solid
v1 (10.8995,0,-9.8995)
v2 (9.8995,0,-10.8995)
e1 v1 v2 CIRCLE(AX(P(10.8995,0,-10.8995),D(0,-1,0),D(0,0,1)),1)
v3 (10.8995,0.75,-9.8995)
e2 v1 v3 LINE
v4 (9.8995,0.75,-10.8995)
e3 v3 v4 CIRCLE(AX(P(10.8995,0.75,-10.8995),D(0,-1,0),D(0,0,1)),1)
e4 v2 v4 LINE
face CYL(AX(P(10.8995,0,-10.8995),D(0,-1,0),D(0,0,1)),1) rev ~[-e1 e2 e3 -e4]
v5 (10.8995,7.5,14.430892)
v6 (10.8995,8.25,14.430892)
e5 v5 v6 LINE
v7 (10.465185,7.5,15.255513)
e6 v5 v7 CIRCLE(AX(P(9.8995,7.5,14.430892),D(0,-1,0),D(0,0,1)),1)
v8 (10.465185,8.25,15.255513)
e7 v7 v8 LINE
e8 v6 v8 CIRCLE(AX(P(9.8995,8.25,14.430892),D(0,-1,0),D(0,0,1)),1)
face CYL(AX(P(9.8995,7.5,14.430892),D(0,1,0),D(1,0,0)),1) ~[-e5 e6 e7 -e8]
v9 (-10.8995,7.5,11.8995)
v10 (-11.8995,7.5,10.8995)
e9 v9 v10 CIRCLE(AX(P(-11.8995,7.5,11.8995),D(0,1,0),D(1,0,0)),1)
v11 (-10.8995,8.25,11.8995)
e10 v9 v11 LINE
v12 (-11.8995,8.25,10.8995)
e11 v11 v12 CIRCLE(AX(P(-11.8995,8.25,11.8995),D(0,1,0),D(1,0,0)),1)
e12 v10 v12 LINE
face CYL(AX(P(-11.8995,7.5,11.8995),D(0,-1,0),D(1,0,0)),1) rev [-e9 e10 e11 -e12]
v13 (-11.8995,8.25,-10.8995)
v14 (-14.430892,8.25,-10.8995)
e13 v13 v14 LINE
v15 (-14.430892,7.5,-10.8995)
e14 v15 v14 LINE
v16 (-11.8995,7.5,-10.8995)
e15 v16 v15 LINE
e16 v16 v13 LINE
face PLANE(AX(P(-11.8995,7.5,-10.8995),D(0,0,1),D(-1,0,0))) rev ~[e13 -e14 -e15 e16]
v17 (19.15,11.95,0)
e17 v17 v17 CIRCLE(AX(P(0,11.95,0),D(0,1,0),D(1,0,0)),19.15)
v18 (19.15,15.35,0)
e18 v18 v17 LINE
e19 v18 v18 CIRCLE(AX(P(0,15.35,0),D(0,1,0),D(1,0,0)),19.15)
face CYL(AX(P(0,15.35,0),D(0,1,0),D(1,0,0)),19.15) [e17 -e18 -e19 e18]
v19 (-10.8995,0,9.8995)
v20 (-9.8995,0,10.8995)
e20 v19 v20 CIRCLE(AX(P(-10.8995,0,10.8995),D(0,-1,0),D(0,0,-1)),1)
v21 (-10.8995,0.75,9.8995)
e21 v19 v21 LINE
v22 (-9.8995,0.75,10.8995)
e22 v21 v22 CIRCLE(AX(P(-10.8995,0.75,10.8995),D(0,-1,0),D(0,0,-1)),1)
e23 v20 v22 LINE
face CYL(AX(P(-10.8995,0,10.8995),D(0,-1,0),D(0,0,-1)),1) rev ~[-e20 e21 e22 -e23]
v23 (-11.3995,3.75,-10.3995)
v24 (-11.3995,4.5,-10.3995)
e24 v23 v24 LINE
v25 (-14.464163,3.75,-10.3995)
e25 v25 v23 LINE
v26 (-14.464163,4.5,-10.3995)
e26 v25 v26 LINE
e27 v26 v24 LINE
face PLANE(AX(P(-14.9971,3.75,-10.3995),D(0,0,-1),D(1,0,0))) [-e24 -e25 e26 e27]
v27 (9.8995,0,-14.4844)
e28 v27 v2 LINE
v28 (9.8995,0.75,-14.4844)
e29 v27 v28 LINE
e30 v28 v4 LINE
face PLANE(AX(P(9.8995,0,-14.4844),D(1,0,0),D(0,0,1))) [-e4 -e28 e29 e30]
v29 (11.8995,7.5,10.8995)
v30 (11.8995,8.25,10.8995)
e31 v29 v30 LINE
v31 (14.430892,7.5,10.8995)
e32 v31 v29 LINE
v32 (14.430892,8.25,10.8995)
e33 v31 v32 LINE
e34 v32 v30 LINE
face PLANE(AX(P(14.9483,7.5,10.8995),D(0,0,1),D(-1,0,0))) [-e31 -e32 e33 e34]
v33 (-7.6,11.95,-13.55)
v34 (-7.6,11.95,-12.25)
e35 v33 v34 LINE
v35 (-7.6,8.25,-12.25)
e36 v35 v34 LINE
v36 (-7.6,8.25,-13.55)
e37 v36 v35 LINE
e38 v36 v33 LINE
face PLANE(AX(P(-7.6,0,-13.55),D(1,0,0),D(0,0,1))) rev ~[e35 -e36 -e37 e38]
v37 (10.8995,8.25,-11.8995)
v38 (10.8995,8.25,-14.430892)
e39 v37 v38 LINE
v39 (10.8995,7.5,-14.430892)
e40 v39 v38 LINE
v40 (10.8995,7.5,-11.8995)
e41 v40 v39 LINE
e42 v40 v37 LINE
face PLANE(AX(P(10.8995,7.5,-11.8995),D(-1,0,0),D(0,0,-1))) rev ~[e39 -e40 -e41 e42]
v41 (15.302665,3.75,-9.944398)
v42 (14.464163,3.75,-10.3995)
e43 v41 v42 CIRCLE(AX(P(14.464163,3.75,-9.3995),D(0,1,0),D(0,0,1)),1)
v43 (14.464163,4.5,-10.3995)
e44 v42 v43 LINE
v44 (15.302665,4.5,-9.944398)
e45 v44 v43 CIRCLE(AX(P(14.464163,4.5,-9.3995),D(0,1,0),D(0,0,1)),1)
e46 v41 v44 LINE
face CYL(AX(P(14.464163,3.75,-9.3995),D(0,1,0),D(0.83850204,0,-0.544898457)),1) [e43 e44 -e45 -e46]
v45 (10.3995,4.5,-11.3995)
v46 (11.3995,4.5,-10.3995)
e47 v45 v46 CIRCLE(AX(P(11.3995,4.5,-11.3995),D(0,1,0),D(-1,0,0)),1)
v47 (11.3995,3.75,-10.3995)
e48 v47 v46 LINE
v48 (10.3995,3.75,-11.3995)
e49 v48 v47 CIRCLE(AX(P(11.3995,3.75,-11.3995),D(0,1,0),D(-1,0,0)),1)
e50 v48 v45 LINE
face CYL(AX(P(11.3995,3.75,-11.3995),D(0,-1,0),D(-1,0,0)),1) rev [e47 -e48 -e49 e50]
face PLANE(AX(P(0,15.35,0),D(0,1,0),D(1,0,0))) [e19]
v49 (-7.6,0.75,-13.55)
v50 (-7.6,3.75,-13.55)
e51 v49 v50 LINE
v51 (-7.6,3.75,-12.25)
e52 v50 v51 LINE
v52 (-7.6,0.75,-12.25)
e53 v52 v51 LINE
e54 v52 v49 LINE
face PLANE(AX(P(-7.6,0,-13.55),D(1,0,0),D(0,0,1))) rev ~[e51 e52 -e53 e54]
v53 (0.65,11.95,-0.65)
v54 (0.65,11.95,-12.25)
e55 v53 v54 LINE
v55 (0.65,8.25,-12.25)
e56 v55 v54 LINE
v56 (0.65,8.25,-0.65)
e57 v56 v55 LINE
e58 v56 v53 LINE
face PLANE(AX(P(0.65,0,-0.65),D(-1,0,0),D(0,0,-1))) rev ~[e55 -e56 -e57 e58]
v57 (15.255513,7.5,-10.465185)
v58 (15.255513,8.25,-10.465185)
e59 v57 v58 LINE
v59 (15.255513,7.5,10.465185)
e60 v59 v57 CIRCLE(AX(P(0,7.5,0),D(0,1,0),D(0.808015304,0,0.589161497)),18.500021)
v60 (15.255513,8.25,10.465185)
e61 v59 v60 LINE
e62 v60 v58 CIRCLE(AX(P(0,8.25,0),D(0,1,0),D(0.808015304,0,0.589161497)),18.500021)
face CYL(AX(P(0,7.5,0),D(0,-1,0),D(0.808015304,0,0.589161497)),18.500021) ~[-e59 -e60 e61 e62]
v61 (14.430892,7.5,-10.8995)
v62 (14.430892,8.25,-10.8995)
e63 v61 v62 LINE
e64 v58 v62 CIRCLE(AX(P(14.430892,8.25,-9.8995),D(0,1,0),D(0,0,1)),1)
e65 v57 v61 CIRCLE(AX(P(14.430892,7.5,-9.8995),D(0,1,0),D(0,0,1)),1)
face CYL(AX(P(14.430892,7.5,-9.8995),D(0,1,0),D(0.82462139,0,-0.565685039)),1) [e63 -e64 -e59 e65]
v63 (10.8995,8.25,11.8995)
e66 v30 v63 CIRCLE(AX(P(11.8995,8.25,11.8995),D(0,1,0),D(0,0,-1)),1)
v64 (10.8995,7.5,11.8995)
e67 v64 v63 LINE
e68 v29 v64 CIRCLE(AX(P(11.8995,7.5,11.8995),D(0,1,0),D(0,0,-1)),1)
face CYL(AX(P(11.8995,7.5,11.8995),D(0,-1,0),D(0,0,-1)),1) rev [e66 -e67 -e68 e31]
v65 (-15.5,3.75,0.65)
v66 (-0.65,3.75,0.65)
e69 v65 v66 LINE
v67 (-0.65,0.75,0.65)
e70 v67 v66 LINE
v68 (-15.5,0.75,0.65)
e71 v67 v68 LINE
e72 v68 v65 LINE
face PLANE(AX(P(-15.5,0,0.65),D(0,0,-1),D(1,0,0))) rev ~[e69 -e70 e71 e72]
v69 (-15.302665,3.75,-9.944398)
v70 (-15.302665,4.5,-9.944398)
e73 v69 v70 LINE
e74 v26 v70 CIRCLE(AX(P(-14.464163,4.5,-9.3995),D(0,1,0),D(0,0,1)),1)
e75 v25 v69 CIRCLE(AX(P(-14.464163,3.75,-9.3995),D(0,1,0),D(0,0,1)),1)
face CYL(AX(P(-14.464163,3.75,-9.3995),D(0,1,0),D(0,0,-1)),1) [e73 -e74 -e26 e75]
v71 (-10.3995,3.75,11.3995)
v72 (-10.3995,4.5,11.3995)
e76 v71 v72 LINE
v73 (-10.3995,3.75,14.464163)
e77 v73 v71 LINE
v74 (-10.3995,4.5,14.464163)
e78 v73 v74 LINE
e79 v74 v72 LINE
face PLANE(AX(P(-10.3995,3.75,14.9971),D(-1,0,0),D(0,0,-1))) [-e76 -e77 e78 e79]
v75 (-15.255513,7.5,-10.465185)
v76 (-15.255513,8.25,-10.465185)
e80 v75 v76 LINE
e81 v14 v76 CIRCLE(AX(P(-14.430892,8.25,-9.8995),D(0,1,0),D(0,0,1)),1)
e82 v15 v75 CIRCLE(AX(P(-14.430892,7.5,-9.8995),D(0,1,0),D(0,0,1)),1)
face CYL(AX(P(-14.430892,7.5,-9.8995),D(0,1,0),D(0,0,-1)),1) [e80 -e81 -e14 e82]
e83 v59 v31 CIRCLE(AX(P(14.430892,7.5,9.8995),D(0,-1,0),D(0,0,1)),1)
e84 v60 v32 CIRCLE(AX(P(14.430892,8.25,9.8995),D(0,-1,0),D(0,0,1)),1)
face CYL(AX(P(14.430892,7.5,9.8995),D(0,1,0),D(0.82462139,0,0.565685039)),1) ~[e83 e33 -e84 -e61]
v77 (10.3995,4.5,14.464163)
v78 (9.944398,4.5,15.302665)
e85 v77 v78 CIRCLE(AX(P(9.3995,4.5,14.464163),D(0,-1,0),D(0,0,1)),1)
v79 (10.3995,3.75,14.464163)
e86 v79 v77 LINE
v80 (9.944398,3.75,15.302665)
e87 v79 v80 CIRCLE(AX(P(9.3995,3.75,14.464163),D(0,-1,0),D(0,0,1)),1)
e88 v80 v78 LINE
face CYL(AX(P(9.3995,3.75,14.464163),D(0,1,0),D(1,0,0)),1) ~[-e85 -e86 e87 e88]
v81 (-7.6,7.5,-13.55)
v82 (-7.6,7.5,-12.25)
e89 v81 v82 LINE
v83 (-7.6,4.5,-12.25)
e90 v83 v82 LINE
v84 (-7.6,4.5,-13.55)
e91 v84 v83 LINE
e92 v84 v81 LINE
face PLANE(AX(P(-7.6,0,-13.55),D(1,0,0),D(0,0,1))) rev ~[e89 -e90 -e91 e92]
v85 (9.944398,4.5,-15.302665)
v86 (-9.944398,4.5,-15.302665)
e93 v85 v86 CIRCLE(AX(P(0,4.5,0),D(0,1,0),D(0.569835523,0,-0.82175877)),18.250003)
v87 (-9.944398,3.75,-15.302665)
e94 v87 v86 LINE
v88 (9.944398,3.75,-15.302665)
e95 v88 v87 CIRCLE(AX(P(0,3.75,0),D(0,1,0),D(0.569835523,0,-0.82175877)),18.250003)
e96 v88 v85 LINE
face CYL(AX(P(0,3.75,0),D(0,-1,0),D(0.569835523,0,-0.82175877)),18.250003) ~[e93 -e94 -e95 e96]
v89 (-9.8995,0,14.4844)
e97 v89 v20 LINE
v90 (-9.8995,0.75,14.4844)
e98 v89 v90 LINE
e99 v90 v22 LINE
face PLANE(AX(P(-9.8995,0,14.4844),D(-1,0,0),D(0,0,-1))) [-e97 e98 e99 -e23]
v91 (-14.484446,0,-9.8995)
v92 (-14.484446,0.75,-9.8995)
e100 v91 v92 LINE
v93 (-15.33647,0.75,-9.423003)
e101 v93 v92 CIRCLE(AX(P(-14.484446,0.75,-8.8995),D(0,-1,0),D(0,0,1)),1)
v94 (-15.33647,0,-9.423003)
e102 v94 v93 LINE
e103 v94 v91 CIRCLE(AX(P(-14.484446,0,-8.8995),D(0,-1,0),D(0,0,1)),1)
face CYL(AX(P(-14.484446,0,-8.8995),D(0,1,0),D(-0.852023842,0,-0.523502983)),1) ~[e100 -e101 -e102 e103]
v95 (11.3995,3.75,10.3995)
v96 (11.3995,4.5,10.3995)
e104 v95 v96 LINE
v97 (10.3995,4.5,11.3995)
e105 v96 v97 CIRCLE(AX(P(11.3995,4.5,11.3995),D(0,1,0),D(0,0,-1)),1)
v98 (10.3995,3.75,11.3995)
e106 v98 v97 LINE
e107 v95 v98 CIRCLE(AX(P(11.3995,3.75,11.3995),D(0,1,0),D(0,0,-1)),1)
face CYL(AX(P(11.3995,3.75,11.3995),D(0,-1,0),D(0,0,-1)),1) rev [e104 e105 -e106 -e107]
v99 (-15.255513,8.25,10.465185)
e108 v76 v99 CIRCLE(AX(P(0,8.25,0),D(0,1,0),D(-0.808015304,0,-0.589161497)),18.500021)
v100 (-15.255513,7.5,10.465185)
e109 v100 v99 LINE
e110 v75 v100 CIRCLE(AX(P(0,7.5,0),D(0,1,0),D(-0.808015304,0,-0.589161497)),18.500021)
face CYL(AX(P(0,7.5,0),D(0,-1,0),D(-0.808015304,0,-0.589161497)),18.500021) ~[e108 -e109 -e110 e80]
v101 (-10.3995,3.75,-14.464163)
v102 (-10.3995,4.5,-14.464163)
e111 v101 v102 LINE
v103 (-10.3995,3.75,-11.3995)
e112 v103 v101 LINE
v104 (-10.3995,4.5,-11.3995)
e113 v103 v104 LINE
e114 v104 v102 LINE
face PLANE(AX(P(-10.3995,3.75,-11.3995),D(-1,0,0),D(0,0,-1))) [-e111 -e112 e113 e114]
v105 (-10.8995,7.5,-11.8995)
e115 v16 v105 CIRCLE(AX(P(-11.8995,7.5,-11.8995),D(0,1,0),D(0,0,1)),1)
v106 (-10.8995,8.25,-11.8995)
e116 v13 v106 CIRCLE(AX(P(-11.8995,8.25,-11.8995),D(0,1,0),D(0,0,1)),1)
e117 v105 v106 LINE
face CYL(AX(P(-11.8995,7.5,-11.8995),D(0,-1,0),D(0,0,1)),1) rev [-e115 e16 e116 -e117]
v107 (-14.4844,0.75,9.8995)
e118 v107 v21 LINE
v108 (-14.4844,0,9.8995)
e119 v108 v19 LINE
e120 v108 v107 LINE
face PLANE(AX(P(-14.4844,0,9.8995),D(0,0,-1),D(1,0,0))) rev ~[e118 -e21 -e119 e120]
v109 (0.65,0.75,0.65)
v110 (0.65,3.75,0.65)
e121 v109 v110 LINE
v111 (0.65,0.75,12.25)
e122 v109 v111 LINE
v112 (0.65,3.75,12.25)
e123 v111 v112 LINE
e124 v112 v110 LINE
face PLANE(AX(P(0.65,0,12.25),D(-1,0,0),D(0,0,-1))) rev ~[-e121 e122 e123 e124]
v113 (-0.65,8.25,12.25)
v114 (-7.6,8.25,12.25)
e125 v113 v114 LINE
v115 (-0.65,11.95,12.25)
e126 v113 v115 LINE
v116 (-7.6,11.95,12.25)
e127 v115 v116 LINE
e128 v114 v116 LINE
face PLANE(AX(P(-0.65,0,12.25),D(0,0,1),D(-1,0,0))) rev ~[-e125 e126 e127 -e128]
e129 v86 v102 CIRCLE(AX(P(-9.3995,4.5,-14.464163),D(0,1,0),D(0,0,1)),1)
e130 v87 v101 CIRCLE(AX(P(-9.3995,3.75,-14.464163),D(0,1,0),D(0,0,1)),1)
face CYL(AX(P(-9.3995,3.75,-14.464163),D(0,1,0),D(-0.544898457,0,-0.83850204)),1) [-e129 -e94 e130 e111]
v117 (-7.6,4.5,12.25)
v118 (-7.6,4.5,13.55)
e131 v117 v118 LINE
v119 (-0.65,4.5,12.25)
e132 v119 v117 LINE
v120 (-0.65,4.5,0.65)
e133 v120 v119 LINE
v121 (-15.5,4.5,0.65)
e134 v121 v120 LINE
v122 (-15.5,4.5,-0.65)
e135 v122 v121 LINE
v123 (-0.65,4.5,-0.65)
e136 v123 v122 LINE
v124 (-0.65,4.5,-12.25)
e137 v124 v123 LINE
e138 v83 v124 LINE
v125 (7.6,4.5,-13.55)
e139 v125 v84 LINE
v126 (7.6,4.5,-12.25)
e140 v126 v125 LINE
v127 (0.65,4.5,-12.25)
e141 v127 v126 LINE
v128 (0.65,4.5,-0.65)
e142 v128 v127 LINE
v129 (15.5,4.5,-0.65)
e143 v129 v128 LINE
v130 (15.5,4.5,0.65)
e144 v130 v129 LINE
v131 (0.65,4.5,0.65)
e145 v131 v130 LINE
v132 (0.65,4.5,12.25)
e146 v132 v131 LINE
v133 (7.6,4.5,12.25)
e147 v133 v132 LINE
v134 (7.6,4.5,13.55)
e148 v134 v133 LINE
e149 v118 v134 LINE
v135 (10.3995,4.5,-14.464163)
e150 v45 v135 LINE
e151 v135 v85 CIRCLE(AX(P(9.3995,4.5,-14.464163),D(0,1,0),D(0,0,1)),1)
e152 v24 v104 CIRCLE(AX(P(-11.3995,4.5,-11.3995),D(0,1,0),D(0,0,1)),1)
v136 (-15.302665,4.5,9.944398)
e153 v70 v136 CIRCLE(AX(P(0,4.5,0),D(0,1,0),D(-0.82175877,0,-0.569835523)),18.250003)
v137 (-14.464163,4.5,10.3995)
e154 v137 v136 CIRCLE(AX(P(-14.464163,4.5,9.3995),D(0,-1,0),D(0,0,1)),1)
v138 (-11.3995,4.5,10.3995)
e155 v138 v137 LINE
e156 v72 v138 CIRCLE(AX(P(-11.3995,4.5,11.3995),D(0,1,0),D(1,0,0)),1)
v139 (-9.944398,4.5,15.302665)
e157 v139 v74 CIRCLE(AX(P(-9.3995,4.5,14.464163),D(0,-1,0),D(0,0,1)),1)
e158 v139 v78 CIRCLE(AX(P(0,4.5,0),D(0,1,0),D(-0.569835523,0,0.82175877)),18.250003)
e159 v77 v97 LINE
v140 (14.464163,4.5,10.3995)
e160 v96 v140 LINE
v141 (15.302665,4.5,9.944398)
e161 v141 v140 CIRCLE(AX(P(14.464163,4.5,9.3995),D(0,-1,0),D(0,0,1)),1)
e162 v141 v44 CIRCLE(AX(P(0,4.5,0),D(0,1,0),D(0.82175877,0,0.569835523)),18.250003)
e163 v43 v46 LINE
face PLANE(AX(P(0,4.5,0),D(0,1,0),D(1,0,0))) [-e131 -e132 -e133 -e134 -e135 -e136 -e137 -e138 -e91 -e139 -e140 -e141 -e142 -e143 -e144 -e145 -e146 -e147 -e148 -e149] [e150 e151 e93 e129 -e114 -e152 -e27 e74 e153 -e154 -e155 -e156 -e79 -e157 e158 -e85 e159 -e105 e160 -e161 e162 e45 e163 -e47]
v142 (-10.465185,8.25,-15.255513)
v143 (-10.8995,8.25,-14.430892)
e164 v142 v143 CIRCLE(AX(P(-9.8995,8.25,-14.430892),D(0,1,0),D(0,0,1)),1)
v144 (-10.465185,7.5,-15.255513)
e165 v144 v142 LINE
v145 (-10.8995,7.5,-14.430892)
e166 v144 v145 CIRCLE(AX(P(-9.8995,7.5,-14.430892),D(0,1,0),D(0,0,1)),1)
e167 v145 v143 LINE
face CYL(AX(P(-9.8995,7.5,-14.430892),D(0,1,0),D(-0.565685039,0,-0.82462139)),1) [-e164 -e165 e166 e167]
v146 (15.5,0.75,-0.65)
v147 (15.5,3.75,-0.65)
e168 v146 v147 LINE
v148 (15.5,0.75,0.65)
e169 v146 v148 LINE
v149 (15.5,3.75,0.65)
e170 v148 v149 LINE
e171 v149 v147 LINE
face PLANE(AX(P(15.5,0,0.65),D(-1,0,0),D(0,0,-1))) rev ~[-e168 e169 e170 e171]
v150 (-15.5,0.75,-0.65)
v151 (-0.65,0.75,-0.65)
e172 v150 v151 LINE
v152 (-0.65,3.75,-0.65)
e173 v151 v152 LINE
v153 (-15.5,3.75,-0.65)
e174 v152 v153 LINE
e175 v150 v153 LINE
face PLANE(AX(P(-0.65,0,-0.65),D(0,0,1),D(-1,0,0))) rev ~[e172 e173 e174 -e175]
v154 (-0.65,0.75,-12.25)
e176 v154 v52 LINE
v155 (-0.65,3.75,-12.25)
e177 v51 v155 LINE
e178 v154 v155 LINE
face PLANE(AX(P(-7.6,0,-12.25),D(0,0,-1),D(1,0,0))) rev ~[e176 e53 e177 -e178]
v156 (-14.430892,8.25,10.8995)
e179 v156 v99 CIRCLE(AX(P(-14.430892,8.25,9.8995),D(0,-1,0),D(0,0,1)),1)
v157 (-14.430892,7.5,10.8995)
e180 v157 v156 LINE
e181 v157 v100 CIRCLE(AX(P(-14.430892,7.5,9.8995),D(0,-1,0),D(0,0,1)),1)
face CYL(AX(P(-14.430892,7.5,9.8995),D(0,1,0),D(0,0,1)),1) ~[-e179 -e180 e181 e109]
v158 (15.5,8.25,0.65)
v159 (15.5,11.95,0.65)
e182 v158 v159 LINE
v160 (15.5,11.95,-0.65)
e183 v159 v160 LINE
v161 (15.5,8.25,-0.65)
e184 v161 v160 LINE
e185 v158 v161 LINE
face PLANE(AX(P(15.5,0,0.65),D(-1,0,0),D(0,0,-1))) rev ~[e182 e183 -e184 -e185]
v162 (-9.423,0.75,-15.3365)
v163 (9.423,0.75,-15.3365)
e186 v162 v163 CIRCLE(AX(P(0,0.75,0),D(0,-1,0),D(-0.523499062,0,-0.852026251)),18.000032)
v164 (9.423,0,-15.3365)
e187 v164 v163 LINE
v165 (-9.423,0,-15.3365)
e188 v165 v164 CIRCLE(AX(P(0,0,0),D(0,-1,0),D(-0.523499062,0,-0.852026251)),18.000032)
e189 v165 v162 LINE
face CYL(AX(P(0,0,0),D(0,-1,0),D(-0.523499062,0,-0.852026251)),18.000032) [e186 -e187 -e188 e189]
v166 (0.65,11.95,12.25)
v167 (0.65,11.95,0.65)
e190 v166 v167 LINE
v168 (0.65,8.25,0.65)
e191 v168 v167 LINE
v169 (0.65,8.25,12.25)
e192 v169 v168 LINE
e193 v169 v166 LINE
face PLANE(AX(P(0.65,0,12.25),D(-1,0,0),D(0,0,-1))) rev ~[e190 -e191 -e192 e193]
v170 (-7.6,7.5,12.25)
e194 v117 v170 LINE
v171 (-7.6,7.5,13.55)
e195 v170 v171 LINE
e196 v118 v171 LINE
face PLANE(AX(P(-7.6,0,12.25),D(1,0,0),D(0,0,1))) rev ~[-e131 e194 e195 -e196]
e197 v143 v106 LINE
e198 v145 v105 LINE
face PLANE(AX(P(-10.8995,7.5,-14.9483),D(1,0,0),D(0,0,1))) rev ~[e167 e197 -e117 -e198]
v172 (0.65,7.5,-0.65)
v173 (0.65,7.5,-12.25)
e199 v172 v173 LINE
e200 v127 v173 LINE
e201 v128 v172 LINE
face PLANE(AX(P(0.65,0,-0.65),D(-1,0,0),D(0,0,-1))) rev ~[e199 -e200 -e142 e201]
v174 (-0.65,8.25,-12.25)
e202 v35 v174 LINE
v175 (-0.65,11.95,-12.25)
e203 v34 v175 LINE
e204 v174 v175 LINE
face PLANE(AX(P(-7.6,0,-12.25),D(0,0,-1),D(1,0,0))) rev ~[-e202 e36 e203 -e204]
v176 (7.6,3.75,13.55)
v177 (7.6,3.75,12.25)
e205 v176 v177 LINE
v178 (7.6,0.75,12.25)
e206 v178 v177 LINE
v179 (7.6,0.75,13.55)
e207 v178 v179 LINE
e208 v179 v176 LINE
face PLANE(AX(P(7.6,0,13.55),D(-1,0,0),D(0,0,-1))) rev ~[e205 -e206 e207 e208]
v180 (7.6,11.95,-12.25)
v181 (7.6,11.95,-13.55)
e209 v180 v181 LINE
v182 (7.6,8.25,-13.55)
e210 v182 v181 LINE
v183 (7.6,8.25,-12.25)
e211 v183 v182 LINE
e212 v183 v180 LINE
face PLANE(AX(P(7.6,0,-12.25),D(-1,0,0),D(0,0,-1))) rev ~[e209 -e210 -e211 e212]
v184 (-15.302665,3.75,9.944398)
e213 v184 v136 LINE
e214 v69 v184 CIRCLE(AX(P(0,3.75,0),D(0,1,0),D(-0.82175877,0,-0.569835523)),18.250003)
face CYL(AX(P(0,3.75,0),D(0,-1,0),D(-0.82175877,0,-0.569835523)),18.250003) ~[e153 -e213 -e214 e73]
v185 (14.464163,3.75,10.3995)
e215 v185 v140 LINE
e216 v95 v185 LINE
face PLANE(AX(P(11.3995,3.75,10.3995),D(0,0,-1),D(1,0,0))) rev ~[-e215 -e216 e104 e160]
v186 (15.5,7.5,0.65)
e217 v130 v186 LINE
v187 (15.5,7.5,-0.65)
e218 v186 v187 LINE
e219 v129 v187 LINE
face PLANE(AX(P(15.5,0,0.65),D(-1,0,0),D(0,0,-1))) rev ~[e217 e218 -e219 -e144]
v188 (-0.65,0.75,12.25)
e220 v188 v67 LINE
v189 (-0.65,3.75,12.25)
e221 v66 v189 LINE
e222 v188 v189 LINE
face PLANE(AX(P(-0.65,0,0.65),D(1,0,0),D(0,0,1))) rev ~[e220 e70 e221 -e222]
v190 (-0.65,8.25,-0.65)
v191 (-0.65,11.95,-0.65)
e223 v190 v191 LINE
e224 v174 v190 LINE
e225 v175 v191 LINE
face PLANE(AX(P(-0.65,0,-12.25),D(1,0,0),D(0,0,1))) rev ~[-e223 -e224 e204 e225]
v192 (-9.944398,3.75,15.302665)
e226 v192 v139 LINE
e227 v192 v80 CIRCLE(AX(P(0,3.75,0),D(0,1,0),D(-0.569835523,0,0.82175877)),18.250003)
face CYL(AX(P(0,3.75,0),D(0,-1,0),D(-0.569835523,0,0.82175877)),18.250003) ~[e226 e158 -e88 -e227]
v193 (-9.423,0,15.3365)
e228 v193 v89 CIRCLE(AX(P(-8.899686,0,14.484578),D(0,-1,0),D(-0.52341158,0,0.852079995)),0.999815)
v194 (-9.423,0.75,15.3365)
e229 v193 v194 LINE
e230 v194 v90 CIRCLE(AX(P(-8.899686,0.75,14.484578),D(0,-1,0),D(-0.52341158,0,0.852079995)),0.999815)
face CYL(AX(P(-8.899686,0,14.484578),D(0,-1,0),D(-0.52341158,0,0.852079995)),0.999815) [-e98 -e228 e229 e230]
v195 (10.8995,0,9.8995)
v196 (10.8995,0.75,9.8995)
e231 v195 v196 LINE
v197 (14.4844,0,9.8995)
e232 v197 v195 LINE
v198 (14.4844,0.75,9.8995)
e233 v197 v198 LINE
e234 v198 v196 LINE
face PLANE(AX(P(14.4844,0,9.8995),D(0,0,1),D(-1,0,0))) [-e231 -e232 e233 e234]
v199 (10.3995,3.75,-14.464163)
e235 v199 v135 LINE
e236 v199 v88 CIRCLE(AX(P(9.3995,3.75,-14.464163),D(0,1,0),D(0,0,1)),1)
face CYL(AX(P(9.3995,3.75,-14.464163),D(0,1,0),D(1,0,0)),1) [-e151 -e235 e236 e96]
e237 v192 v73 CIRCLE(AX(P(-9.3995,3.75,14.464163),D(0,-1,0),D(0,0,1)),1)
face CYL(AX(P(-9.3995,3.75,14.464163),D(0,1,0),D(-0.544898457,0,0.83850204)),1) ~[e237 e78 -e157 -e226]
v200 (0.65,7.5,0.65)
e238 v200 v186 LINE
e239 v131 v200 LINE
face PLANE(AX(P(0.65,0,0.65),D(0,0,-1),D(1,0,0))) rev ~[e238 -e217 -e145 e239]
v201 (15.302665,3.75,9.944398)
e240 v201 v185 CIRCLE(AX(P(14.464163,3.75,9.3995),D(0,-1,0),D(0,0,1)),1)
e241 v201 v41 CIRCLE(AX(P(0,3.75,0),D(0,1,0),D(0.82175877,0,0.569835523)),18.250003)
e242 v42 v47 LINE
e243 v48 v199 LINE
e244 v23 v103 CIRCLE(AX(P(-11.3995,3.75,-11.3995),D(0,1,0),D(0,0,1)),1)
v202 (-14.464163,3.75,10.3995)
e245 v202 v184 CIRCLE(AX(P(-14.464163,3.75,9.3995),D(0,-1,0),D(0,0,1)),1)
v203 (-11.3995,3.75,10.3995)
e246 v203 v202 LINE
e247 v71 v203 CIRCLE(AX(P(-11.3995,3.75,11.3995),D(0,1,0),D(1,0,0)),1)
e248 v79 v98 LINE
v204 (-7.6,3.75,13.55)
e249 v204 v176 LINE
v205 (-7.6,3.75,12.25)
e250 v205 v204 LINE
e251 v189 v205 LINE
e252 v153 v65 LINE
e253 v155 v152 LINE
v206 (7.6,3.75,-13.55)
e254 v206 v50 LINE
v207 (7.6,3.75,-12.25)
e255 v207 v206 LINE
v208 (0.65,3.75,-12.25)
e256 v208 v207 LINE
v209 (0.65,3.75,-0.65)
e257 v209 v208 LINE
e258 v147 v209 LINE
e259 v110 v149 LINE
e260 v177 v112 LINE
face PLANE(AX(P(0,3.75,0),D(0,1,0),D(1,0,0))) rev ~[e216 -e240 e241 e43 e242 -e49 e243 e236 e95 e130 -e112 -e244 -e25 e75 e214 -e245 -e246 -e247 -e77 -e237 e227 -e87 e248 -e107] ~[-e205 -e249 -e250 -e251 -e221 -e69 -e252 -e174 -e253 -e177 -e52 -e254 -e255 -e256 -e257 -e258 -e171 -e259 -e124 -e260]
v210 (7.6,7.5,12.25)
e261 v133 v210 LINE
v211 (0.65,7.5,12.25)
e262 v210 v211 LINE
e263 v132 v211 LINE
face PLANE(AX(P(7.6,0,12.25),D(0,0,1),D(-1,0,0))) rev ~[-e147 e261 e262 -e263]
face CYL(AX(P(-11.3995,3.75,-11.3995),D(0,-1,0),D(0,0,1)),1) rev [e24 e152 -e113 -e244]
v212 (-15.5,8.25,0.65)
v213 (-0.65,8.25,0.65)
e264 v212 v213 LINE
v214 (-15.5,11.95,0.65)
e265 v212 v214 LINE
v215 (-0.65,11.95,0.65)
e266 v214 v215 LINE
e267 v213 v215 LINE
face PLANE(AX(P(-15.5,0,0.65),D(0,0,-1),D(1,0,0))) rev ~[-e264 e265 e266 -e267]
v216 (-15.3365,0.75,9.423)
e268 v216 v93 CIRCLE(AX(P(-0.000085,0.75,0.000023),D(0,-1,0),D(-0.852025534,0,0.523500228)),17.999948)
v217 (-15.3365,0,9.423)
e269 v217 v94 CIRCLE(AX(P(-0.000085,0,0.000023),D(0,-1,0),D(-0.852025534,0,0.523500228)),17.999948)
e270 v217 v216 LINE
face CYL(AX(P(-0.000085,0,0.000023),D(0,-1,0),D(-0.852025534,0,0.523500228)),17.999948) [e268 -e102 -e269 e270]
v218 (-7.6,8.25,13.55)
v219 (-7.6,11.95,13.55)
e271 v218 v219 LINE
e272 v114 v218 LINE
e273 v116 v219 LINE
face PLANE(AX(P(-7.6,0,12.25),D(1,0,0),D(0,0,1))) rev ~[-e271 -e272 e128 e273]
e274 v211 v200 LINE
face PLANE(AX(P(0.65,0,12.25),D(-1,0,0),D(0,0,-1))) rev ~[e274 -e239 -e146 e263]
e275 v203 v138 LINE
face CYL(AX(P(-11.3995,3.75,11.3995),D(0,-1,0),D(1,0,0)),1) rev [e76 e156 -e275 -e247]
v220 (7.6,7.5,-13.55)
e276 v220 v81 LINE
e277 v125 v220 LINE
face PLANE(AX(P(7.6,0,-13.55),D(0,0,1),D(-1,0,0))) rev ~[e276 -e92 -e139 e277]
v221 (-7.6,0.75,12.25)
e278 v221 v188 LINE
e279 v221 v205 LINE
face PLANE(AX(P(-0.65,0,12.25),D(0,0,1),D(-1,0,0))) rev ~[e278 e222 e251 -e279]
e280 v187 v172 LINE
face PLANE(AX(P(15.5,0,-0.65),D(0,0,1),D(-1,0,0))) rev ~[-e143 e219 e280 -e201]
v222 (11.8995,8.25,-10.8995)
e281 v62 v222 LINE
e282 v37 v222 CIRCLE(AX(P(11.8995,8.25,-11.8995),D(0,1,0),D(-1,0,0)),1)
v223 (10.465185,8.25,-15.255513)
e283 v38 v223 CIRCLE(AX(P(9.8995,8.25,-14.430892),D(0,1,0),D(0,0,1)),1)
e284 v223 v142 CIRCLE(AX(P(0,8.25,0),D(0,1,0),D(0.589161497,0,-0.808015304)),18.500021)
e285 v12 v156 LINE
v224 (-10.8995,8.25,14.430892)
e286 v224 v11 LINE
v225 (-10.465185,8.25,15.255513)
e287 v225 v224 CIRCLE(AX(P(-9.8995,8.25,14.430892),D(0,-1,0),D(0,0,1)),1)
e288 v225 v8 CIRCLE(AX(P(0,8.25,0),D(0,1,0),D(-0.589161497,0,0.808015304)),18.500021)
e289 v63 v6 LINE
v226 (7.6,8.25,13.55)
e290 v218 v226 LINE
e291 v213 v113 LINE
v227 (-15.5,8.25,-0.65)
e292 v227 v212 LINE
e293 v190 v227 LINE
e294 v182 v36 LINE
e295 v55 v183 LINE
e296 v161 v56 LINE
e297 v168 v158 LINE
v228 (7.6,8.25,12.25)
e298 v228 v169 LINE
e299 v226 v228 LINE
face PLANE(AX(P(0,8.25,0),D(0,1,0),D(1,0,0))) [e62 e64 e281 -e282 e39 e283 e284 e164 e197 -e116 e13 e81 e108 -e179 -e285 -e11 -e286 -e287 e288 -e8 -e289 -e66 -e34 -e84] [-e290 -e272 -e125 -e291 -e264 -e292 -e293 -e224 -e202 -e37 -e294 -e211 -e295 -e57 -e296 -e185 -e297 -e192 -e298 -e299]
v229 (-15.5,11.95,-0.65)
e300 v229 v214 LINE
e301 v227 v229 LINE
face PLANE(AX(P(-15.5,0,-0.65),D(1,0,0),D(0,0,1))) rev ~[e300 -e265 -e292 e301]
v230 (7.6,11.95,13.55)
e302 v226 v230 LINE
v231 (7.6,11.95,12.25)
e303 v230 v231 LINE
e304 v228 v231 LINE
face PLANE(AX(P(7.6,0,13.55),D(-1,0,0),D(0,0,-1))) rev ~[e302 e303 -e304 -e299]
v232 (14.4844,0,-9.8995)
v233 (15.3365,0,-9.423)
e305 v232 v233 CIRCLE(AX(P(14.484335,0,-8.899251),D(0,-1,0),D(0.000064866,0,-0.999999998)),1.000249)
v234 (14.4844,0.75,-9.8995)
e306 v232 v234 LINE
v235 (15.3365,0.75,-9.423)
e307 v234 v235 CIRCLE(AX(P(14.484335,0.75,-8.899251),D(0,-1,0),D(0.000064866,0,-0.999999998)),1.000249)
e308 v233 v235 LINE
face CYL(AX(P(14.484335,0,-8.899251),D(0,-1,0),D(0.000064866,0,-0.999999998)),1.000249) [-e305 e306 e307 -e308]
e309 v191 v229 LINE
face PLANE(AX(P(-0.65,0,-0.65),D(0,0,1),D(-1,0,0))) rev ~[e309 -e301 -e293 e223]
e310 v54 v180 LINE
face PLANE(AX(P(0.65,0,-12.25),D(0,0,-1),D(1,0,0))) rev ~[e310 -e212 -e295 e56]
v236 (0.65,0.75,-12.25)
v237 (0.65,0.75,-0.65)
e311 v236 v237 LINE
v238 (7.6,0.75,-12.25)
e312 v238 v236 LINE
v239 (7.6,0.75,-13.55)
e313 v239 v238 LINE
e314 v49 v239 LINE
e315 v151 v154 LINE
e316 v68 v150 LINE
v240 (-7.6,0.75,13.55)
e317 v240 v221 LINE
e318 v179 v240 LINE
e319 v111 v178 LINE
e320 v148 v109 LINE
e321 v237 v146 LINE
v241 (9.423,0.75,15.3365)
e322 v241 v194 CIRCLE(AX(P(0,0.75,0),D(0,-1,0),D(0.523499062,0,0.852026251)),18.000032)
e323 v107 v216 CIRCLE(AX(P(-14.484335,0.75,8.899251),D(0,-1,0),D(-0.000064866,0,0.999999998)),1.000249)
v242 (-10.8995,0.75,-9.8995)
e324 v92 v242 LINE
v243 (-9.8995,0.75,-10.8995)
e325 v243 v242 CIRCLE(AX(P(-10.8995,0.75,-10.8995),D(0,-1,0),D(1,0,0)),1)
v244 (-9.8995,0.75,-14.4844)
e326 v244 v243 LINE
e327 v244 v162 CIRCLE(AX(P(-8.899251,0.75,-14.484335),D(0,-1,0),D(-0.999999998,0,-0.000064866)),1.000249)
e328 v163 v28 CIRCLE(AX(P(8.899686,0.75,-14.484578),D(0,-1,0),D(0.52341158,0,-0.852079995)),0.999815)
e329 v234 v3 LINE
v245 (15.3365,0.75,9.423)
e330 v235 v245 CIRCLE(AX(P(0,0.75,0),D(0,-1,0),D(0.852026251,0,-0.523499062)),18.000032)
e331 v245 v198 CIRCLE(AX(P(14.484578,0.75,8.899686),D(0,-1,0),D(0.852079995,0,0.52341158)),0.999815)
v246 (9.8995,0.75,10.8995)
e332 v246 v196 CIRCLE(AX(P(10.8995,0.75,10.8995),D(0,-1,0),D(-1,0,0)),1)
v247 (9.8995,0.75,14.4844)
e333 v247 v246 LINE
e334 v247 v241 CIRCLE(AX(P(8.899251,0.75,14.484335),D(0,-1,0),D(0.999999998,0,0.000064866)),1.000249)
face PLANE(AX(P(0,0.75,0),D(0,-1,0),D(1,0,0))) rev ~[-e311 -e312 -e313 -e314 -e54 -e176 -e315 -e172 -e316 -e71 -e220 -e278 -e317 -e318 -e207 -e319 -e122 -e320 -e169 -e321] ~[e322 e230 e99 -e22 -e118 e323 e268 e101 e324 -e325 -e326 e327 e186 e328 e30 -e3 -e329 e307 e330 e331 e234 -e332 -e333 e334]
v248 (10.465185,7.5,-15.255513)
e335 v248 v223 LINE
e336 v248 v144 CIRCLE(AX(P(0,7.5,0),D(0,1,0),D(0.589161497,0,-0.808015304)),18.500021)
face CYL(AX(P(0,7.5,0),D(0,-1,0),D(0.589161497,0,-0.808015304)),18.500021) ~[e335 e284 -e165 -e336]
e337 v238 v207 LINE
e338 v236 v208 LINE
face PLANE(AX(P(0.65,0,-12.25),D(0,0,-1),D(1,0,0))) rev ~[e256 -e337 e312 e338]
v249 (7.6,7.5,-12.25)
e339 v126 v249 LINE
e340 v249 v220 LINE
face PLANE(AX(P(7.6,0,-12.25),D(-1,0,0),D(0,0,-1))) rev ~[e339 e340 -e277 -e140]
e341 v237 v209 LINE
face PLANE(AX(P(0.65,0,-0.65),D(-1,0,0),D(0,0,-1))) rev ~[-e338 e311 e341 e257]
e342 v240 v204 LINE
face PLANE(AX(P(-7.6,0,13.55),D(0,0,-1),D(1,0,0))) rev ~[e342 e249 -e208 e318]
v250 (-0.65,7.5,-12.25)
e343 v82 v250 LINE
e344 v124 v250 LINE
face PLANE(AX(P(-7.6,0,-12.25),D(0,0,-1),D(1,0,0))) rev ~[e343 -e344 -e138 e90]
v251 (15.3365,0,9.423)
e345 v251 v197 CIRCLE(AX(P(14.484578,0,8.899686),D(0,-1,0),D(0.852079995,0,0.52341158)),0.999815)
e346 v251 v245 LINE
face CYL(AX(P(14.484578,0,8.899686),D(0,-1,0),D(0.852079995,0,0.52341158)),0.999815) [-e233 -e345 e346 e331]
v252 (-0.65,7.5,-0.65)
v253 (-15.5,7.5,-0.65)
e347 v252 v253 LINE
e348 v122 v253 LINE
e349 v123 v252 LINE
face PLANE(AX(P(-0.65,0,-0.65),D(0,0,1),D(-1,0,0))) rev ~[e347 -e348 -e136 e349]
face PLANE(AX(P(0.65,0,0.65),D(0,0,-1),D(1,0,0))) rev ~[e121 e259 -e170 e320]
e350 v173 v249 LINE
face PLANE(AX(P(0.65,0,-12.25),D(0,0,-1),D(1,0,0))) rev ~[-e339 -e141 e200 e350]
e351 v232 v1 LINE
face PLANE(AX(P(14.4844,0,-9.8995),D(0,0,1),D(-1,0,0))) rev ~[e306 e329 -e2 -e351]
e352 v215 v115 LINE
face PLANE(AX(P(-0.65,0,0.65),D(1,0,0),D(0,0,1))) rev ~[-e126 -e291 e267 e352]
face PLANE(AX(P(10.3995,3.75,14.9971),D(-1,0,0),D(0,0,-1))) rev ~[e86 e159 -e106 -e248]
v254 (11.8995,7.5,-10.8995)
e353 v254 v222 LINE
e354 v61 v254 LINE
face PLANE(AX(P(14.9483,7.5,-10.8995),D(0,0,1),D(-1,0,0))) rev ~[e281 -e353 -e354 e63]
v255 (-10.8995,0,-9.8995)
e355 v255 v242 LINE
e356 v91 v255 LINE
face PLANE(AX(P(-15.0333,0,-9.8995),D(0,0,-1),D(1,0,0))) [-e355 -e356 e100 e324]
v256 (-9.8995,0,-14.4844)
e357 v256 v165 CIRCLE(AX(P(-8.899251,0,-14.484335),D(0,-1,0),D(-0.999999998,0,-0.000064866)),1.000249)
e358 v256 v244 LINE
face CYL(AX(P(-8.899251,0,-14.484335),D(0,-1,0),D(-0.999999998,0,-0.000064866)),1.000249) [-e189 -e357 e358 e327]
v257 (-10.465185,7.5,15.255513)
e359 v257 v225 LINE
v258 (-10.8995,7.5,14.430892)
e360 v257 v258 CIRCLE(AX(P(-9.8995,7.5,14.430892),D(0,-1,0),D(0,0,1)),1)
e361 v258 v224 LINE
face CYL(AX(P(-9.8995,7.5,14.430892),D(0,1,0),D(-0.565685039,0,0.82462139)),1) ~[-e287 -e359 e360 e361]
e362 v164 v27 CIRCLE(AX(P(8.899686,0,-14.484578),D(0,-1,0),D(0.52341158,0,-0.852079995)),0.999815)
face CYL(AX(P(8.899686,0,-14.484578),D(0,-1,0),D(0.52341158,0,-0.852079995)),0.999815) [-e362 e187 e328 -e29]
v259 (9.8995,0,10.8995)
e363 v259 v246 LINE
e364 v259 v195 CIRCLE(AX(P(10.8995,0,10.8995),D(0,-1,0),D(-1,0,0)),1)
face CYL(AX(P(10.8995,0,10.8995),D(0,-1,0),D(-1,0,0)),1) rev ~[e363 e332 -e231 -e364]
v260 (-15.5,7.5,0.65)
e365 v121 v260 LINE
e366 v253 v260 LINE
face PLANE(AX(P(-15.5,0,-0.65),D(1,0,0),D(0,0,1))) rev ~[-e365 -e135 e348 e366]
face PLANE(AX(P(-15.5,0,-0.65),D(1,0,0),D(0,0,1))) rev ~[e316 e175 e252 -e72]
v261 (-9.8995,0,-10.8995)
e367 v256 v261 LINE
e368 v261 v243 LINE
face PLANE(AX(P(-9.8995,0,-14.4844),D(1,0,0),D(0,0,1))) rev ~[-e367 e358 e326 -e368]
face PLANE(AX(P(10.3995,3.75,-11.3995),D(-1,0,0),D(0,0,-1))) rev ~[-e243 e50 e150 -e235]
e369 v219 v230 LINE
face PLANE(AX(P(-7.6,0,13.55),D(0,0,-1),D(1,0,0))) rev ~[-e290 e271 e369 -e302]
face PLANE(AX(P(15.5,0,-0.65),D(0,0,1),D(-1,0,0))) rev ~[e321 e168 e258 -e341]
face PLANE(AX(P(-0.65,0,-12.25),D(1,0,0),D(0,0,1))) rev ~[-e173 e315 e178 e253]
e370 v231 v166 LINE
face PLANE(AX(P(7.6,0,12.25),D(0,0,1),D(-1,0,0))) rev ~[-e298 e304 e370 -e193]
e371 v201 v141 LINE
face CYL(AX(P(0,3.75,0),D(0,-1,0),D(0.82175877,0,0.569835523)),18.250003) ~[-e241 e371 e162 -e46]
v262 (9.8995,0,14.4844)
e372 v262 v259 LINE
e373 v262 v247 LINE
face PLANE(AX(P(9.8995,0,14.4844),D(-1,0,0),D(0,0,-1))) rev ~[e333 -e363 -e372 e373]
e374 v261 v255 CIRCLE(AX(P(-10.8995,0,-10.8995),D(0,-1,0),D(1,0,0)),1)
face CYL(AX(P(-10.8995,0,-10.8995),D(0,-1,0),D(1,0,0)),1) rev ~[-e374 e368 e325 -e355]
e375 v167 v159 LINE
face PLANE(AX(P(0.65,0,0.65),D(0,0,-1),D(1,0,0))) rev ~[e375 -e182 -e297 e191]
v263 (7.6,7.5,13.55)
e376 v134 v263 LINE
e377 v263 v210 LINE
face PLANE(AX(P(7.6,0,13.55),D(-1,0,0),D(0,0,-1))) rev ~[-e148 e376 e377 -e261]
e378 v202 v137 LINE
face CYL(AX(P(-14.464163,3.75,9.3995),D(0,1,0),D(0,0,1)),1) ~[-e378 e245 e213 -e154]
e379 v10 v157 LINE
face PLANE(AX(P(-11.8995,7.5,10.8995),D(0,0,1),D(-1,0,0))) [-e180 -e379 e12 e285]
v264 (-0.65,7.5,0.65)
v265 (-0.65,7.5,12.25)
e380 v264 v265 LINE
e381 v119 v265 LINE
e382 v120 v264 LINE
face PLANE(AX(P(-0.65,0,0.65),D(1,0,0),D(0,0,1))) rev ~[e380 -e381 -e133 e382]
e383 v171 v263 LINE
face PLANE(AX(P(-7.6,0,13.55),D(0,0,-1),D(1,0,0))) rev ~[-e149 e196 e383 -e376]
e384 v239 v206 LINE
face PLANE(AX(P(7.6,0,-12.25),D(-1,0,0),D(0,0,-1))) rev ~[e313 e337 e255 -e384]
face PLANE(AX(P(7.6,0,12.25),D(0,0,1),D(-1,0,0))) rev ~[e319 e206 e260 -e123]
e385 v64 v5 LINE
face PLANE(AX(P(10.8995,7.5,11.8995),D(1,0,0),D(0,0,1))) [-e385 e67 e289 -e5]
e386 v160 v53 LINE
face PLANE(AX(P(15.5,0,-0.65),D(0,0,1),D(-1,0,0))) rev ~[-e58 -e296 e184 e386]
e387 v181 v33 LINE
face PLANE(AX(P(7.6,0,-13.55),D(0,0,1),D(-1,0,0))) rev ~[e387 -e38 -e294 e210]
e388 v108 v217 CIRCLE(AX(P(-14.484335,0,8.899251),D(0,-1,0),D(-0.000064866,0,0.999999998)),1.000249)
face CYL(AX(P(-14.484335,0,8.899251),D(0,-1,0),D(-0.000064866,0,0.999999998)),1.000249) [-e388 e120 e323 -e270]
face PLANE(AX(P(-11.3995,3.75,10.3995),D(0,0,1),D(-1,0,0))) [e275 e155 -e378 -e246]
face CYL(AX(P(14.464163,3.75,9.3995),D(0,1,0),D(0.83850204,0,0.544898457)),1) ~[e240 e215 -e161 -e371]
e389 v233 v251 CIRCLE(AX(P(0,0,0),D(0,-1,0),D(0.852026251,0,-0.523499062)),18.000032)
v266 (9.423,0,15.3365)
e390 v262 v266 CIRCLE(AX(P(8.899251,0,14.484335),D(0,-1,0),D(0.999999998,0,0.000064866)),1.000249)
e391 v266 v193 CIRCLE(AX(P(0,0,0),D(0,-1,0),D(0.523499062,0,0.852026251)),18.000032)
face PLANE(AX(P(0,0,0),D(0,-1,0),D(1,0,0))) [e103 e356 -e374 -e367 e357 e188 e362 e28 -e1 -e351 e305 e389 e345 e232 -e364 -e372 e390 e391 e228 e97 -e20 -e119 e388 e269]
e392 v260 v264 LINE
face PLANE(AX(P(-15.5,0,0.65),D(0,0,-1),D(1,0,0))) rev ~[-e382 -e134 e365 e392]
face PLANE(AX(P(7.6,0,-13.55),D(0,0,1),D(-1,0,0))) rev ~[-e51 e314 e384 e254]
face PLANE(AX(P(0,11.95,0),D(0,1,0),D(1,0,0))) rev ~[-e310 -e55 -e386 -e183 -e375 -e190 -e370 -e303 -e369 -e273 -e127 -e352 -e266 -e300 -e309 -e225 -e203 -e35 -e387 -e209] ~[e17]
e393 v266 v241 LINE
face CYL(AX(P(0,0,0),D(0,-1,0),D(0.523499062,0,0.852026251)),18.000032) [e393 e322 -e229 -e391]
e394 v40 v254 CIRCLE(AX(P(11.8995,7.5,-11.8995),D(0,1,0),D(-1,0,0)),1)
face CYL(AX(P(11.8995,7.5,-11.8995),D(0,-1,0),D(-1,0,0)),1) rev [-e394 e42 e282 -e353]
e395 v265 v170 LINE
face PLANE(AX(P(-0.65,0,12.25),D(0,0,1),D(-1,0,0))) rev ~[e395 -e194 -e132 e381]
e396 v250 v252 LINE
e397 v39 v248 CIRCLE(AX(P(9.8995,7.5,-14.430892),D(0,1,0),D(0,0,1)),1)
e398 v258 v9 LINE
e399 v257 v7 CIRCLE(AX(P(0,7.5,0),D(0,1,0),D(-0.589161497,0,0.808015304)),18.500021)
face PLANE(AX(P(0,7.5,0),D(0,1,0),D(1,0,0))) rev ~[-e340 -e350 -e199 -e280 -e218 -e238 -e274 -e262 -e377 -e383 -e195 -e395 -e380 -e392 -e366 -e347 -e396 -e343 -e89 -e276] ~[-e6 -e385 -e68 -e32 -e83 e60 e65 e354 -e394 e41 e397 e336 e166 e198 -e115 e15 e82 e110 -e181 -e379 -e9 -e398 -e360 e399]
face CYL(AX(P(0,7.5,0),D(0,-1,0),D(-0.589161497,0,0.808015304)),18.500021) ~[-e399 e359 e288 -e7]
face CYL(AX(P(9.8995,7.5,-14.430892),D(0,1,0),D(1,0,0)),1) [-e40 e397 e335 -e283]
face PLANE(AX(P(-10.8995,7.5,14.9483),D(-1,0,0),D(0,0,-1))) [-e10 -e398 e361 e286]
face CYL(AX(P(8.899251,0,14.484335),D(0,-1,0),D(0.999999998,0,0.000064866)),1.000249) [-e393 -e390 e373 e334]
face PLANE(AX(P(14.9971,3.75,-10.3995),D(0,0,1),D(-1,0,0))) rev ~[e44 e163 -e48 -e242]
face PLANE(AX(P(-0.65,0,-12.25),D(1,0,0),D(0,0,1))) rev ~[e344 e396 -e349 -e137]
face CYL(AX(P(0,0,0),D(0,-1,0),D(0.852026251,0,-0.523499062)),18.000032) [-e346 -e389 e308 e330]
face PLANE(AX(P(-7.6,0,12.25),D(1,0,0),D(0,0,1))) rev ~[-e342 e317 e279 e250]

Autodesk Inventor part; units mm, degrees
ref_plane "YZ Plane" through (0, 0, 0) normal (1, 0, 0) x (0, 1, 0)
ref_plane "XZ Plane" through (0, 0, 0) normal (0, 1, 0) x (-1, 0, 0)
ref_plane "XY Plane" through (0, 0, 0) normal (0, 0, 1) x (1, 0, 0)
sketch "Esquisse1" plane through (0, 0, 0) normal (0, 1, 0) x (-1, 0, 0)
  line L0 (7.6, 13.55) -> (-7.6, 13.55)
  line L1 (-7.6, 13.55) -> (-7.6, 12.25)
  line L2 (-7.6, 12.25) -> (-0.65, 12.25)
  line L3 (-0.65, 12.25) -> (-0.65, 0.65)
  line L4 (-0.65, 0.65) -> (-15.5, 0.65)
  line L5 (-15.5, 0.65) -> (-15.5, -0.65)
  line L6 (-15.5, -0.65) -> (-0.65, -0.65)
  line L7 (-0.65, -0.65) -> (-0.65, -12.25)
  line L8 (-0.65, -12.25) -> (-7.6, -12.25)
  line L9 (-7.6, -12.25) -> (-7.6, -13.55)
  line L10 (-7.6, -13.55) -> (7.6, -13.55)
  line L11 (7.6, -13.55) -> (7.6, -12.25)
  line L12 (7.6, -12.25) -> (0.65, -12.25)
  line L13 (0.65, -12.25) -> (0.65, -0.65)
  line L14 (0.65, -0.65) -> (15.5, -0.65)
  line L15 (15.5, -0.65) -> (15.5, 0.65)
  line L16 (15.5, 0.65) -> (0.65, 0.65)
  line L17 (0.65, 0.65) -> (0.65, 12.25)
  line L18 (0.65, 12.25) -> (7.6, 12.25)
  line L19 (7.6, 12.25) -> (7.6, 13.55)
  line L20 (-0.65, 0.65) -> (0.65, -0.65) construction
  line L21 (0.65, 0.65) -> (-0.65, -0.65) construction
  point P0 (0, 0)
  point P1 (0, 0)
  dimension "d0" = 15.2
  dimension "d1" = 27.1
  dimension "d2" = 1.3
  dimension "d4" = 31
  dimension "d7" = 1.3
extrude "Extrusion1" add sketch "Esquisse1" along normal blind 15.35
sketch "Esquisse2" plane through (0, 15.35, 0) normal (0, 1, 0) x (1, 0, 0)
  line L0 (0, -19.15) -> (0, -13.55) construction
  line L1 (-7.6, -13.55) -> (7.6, -13.55) construction
  circle A0 centre (0, 0) radius 19.15
  dimension "d8" = 5.6
extrude "Extrusion2" add sketch "Esquisse2" against normal blind 3.4
sketch "Esquisse5" plane through (0, 0, 0) normal (0, -1, 0) x (1, 0, 0)
  circle A0 centre (0, 0) radius 14 construction
  line L0 (-14.4844, 9.8995) -> (-10.8995, 9.8995)
  line L1 (-9.8995, 14.4844) -> (-9.8995, 10.8995)
  arc A1 (-10.8995, 9.8995) -> (-9.8995, 10.8995) centre (-10.8995, 10.8995) ccw
  line L2 (0, 18) -> (0, -17.3614) construction
  line L3 (18, 0) -> (-18, 0) construction
  line L4 (-15.0333, -9.8995) -> (-10.8995, -9.8995)
  line L5 (-9.8995, -14.4844) -> (-9.8995, -10.8995)
  arc A2 (-9.8995, -10.8995) -> (-10.8995, -9.8995) centre (-10.8995, -10.8995) ccw
  line L6 (14.4844, 9.8995) -> (10.8995, 9.8995)
  line L7 (9.8995, 14.4844) -> (9.8995, 10.8995)
  arc A3 (9.8995, 10.8995) -> (10.8995, 9.8995) centre (10.8995, 10.8995) ccw
  line L8 (9.8995, -14.4844) -> (9.8995, -10.8995)
  line L9 (14.4844, -9.8995) -> (10.8995, -9.8995)
  arc A4 (10.8995, -9.8995) -> (9.8995, -10.8995) centre (10.8995, -10.8995) ccw
  arc A5 (-15.3365, 9.423) -> (-15.0333, -9.8995) centre (0, 0) ccw
  arc A6 (9.423, 15.3365) -> (-9.423, 15.3365) centre (0, 0) ccw
  arc A7 (-9.423, -15.3365) -> (9.423, -15.3365) centre (0, 0) ccw
  arc A8 (15.3365, -9.423) -> (15.3365, 9.423) centre (0, 0) ccw
  arc A9 (9.423, -15.3365) -> (9.8995, -14.4844) centre (8.8995, -14.4844) ccw
  arc A10 (-9.8995, -14.4844) -> (-9.423, -15.3365) centre (-8.8995, -14.4844) ccw
  arc A11 (14.4844, -9.8995) -> (15.3365, -9.423) centre (14.4844, -8.8995) ccw
  arc A12 (15.3365, 9.423) -> (14.4844, 9.8995) centre (14.4844, 8.8995) ccw
  arc A13 (9.8995, 14.4844) -> (9.423, 15.3365) centre (8.8995, 14.4844) ccw
  arc A14 (-9.423, 15.3365) -> (-9.8995, 14.4844) centre (-8.8995, 14.4844) ccw
  arc A15 (-14.4844, 9.8995) -> (-15.3365, 9.423) centre (-14.4844, 8.8995) ccw
  point P0 (-15.0333, 9.8995)
  point P1 (-9.8995, 9.8995)
  point P2 (-9.8995, 15.0333)
  point P3 (-9.8995, -15.0333)
  point P4 (15.0333, 9.8995)
  point P5 (9.8995, 15.0333)
  point P6 (9.8995, -15.0333)
  point P7 (15.0333, -9.8995)
  dimension "d16" = 28
  dimension "d18" = 1
  dimension "d19" = 18
  dimension "d20" = 18
  dimension "d28" = 1
extrude "Extrusion4" add sketch "Esquisse5" against normal blind 0.75
ref_plane "Plan de construction2" through (0, 3.75, 0) normal (0, 1, 0) x (1, 0, 0)
sketch "Esquisse6" plane through (0, 3.75, 0) normal (0, 1, 0) x (1, 0, 0)
  circle A0 centre (0, 0) radius 19.15 projected
  line L0 (14.9971, 10.3995) -> (11.3995, 10.3995)
  line L1 (10.3995, 11.3995) -> (10.3995, 14.9971)
  arc A1 (10.3995, 11.3995) -> (11.3995, 10.3995) centre (11.3995, 11.3995) ccw
  line L2 (-10.3995, -14.9971) -> (-10.3995, -11.3995)
  line L3 (-11.3995, -10.3995) -> (-14.9971, -10.3995)
  arc A2 (-10.3995, -11.3995) -> (-11.3995, -10.3995) centre (-11.3995, -11.3995) ccw
  line L4 (10.8995, 9.8995) -> (14.4844, 9.8995) projected
  line L5 (-9.8995, -14.4844) -> (-9.8995, -10.8995) projected
  arc A3 (-9.423, -15.3365) -> (9.423, -15.3365) centre (0, 0) ccw projected
  line L6 (0, -18) -> (0, 18) construction
  arc A4 (9.423, 15.3365) -> (-9.423, 15.3365) centre (0, 0) ccw projected
  line L7 (-14.9971, 10.3995) -> (-11.3995, 10.3995)
  line L8 (-10.3995, 11.3995) -> (-10.3995, 14.9971)
  arc A5 (-11.3995, 10.3995) -> (-10.3995, 11.3995) centre (-11.3995, 11.3995) ccw
  line L9 (10.3995, -14.9971) -> (10.3995, -11.3995)
  line L10 (11.3995, -10.3995) -> (14.9971, -10.3995)
  arc A6 (11.3995, -10.3995) -> (10.3995, -11.3995) centre (11.3995, -11.3995) ccw
  arc A7 (14.9971, -10.3995) -> (14.9971, 10.3995) centre (0, 0) ccw
  arc A8 (10.3995, 14.9971) -> (-10.3995, 14.9971) centre (0, 0) ccw
  arc A9 (-14.9971, 10.3995) -> (-14.9971, -10.3995) centre (0, 0) ccw
  arc A10 (-10.3995, -14.9971) -> (10.3995, -14.9971) centre (0, 0) ccw
  dimension "d25" = 1
  dimension "d26" = 1
  dimension "d29" = 0.5
  dimension "d30" = 0.5
  dimension "d31" = 18.25
  dimension "d32" = 18.25
  dimension "d33" = 18.25
extrude "Extrusion5" add sketch "Esquisse6" along normal blind 0.75 contours A7 L10 A6 L9 A10 L2 A2 L3 A9 L7 A5 L8 A8 L1 A1 L0
ref_plane "Plan de construction3" through (0, 7.5, 0) normal (0, 1, 0) x (1, 0, 0)
sketch "Esquisse7" plane through (0, 7.5, 0) normal (0, 1, 0) x (1, 0, 0)
  line L0 (14.9483, 10.8995) -> (11.8995, 10.8995)
  line L1 (10.8995, 11.8995) -> (10.8995, 14.9483)
  arc A0 (10.8995, 11.8995) -> (11.8995, 10.8995) centre (11.8995, 11.8995) ccw
  line L2 (14.9971, 10.3995) -> (11.3995, 10.3995) projected
  line L3 (-10.8995, 14.9483) -> (-10.8995, 11.8995)
  line L4 (-11.8995, 10.8995) -> (-14.9483, 10.8995)
  arc A1 (-11.8995, 10.8995) -> (-10.8995, 11.8995) centre (-11.8995, 11.8995) ccw
  line L5 (14.9483, -10.8995) -> (11.8995, -10.8995)
  line L6 (10.8995, -11.8995) -> (10.8995, -14.9483)
  arc A2 (11.8995, -10.8995) -> (10.8995, -11.8995) centre (11.8995, -11.8995) ccw
  line L7 (-10.8995, -14.9483) -> (-10.8995, -11.8995)
  line L8 (-11.8995, -10.8995) -> (-14.9483, -10.8995)
  arc A3 (-10.8995, -11.8995) -> (-11.8995, -10.8995) centre (-11.8995, -11.8995) ccw
  arc A4 (10.8995, 14.9483) -> (-10.8995, 14.9483) centre (0, 0) ccw
  arc A5 (14.9483, -10.8995) -> (14.9483, 10.8995) centre (0, 0) ccw
  arc A6 (-14.9483, 10.8995) -> (-14.9483, -10.8995) centre (0, 0) ccw
  arc A7 (-10.8995, -14.9483) -> (10.8995, -14.9483) centre (0, 0) ccw
  dimension "d39" = 1
  dimension "d40" = 0.5
  dimension "d41" = 1
  dimension "d42" = 1
  dimension "d43" = 1
  dimension "d44" = 18.5
  dimension "d45" = 18.5
  dimension "d46" = 18.5
  dimension "d47" = 18.5
extrude "Extrusion6" add sketch "Esquisse7" along normal blind 0.75
fillet "Congé1" radius 1 16 edges at (14.9483, 7.875, -10.8995) (14.9971, 4.125, -10.3995) (10.3995, 4.125, -14.9971) (10.8995, 7.875, -14.9483) (14.9483, 7.875, 10.8995) (14.9971, 4.125, 10.3995) (10.8995, 7.875, 14.9483) (10.3995, 4.125, 14.9971) (-10.8995, 7.875, 14.9483) (-10.3995, 4.125, 14.9971) (-14.9483, 7.875, 10.8995) (-14.9971, 4.125, 10.3995) (-14.9483, 7.875, -10.8995) (-14.9971, 4.125, -10.3995) (-10.8995, 7.875, -14.9483) (-10.3995, 4.125, -14.9971)
fillet "Congé2" radius 1 1 edges at (-15.0333, 0.375, -9.8995)
properties part number "Plug"
